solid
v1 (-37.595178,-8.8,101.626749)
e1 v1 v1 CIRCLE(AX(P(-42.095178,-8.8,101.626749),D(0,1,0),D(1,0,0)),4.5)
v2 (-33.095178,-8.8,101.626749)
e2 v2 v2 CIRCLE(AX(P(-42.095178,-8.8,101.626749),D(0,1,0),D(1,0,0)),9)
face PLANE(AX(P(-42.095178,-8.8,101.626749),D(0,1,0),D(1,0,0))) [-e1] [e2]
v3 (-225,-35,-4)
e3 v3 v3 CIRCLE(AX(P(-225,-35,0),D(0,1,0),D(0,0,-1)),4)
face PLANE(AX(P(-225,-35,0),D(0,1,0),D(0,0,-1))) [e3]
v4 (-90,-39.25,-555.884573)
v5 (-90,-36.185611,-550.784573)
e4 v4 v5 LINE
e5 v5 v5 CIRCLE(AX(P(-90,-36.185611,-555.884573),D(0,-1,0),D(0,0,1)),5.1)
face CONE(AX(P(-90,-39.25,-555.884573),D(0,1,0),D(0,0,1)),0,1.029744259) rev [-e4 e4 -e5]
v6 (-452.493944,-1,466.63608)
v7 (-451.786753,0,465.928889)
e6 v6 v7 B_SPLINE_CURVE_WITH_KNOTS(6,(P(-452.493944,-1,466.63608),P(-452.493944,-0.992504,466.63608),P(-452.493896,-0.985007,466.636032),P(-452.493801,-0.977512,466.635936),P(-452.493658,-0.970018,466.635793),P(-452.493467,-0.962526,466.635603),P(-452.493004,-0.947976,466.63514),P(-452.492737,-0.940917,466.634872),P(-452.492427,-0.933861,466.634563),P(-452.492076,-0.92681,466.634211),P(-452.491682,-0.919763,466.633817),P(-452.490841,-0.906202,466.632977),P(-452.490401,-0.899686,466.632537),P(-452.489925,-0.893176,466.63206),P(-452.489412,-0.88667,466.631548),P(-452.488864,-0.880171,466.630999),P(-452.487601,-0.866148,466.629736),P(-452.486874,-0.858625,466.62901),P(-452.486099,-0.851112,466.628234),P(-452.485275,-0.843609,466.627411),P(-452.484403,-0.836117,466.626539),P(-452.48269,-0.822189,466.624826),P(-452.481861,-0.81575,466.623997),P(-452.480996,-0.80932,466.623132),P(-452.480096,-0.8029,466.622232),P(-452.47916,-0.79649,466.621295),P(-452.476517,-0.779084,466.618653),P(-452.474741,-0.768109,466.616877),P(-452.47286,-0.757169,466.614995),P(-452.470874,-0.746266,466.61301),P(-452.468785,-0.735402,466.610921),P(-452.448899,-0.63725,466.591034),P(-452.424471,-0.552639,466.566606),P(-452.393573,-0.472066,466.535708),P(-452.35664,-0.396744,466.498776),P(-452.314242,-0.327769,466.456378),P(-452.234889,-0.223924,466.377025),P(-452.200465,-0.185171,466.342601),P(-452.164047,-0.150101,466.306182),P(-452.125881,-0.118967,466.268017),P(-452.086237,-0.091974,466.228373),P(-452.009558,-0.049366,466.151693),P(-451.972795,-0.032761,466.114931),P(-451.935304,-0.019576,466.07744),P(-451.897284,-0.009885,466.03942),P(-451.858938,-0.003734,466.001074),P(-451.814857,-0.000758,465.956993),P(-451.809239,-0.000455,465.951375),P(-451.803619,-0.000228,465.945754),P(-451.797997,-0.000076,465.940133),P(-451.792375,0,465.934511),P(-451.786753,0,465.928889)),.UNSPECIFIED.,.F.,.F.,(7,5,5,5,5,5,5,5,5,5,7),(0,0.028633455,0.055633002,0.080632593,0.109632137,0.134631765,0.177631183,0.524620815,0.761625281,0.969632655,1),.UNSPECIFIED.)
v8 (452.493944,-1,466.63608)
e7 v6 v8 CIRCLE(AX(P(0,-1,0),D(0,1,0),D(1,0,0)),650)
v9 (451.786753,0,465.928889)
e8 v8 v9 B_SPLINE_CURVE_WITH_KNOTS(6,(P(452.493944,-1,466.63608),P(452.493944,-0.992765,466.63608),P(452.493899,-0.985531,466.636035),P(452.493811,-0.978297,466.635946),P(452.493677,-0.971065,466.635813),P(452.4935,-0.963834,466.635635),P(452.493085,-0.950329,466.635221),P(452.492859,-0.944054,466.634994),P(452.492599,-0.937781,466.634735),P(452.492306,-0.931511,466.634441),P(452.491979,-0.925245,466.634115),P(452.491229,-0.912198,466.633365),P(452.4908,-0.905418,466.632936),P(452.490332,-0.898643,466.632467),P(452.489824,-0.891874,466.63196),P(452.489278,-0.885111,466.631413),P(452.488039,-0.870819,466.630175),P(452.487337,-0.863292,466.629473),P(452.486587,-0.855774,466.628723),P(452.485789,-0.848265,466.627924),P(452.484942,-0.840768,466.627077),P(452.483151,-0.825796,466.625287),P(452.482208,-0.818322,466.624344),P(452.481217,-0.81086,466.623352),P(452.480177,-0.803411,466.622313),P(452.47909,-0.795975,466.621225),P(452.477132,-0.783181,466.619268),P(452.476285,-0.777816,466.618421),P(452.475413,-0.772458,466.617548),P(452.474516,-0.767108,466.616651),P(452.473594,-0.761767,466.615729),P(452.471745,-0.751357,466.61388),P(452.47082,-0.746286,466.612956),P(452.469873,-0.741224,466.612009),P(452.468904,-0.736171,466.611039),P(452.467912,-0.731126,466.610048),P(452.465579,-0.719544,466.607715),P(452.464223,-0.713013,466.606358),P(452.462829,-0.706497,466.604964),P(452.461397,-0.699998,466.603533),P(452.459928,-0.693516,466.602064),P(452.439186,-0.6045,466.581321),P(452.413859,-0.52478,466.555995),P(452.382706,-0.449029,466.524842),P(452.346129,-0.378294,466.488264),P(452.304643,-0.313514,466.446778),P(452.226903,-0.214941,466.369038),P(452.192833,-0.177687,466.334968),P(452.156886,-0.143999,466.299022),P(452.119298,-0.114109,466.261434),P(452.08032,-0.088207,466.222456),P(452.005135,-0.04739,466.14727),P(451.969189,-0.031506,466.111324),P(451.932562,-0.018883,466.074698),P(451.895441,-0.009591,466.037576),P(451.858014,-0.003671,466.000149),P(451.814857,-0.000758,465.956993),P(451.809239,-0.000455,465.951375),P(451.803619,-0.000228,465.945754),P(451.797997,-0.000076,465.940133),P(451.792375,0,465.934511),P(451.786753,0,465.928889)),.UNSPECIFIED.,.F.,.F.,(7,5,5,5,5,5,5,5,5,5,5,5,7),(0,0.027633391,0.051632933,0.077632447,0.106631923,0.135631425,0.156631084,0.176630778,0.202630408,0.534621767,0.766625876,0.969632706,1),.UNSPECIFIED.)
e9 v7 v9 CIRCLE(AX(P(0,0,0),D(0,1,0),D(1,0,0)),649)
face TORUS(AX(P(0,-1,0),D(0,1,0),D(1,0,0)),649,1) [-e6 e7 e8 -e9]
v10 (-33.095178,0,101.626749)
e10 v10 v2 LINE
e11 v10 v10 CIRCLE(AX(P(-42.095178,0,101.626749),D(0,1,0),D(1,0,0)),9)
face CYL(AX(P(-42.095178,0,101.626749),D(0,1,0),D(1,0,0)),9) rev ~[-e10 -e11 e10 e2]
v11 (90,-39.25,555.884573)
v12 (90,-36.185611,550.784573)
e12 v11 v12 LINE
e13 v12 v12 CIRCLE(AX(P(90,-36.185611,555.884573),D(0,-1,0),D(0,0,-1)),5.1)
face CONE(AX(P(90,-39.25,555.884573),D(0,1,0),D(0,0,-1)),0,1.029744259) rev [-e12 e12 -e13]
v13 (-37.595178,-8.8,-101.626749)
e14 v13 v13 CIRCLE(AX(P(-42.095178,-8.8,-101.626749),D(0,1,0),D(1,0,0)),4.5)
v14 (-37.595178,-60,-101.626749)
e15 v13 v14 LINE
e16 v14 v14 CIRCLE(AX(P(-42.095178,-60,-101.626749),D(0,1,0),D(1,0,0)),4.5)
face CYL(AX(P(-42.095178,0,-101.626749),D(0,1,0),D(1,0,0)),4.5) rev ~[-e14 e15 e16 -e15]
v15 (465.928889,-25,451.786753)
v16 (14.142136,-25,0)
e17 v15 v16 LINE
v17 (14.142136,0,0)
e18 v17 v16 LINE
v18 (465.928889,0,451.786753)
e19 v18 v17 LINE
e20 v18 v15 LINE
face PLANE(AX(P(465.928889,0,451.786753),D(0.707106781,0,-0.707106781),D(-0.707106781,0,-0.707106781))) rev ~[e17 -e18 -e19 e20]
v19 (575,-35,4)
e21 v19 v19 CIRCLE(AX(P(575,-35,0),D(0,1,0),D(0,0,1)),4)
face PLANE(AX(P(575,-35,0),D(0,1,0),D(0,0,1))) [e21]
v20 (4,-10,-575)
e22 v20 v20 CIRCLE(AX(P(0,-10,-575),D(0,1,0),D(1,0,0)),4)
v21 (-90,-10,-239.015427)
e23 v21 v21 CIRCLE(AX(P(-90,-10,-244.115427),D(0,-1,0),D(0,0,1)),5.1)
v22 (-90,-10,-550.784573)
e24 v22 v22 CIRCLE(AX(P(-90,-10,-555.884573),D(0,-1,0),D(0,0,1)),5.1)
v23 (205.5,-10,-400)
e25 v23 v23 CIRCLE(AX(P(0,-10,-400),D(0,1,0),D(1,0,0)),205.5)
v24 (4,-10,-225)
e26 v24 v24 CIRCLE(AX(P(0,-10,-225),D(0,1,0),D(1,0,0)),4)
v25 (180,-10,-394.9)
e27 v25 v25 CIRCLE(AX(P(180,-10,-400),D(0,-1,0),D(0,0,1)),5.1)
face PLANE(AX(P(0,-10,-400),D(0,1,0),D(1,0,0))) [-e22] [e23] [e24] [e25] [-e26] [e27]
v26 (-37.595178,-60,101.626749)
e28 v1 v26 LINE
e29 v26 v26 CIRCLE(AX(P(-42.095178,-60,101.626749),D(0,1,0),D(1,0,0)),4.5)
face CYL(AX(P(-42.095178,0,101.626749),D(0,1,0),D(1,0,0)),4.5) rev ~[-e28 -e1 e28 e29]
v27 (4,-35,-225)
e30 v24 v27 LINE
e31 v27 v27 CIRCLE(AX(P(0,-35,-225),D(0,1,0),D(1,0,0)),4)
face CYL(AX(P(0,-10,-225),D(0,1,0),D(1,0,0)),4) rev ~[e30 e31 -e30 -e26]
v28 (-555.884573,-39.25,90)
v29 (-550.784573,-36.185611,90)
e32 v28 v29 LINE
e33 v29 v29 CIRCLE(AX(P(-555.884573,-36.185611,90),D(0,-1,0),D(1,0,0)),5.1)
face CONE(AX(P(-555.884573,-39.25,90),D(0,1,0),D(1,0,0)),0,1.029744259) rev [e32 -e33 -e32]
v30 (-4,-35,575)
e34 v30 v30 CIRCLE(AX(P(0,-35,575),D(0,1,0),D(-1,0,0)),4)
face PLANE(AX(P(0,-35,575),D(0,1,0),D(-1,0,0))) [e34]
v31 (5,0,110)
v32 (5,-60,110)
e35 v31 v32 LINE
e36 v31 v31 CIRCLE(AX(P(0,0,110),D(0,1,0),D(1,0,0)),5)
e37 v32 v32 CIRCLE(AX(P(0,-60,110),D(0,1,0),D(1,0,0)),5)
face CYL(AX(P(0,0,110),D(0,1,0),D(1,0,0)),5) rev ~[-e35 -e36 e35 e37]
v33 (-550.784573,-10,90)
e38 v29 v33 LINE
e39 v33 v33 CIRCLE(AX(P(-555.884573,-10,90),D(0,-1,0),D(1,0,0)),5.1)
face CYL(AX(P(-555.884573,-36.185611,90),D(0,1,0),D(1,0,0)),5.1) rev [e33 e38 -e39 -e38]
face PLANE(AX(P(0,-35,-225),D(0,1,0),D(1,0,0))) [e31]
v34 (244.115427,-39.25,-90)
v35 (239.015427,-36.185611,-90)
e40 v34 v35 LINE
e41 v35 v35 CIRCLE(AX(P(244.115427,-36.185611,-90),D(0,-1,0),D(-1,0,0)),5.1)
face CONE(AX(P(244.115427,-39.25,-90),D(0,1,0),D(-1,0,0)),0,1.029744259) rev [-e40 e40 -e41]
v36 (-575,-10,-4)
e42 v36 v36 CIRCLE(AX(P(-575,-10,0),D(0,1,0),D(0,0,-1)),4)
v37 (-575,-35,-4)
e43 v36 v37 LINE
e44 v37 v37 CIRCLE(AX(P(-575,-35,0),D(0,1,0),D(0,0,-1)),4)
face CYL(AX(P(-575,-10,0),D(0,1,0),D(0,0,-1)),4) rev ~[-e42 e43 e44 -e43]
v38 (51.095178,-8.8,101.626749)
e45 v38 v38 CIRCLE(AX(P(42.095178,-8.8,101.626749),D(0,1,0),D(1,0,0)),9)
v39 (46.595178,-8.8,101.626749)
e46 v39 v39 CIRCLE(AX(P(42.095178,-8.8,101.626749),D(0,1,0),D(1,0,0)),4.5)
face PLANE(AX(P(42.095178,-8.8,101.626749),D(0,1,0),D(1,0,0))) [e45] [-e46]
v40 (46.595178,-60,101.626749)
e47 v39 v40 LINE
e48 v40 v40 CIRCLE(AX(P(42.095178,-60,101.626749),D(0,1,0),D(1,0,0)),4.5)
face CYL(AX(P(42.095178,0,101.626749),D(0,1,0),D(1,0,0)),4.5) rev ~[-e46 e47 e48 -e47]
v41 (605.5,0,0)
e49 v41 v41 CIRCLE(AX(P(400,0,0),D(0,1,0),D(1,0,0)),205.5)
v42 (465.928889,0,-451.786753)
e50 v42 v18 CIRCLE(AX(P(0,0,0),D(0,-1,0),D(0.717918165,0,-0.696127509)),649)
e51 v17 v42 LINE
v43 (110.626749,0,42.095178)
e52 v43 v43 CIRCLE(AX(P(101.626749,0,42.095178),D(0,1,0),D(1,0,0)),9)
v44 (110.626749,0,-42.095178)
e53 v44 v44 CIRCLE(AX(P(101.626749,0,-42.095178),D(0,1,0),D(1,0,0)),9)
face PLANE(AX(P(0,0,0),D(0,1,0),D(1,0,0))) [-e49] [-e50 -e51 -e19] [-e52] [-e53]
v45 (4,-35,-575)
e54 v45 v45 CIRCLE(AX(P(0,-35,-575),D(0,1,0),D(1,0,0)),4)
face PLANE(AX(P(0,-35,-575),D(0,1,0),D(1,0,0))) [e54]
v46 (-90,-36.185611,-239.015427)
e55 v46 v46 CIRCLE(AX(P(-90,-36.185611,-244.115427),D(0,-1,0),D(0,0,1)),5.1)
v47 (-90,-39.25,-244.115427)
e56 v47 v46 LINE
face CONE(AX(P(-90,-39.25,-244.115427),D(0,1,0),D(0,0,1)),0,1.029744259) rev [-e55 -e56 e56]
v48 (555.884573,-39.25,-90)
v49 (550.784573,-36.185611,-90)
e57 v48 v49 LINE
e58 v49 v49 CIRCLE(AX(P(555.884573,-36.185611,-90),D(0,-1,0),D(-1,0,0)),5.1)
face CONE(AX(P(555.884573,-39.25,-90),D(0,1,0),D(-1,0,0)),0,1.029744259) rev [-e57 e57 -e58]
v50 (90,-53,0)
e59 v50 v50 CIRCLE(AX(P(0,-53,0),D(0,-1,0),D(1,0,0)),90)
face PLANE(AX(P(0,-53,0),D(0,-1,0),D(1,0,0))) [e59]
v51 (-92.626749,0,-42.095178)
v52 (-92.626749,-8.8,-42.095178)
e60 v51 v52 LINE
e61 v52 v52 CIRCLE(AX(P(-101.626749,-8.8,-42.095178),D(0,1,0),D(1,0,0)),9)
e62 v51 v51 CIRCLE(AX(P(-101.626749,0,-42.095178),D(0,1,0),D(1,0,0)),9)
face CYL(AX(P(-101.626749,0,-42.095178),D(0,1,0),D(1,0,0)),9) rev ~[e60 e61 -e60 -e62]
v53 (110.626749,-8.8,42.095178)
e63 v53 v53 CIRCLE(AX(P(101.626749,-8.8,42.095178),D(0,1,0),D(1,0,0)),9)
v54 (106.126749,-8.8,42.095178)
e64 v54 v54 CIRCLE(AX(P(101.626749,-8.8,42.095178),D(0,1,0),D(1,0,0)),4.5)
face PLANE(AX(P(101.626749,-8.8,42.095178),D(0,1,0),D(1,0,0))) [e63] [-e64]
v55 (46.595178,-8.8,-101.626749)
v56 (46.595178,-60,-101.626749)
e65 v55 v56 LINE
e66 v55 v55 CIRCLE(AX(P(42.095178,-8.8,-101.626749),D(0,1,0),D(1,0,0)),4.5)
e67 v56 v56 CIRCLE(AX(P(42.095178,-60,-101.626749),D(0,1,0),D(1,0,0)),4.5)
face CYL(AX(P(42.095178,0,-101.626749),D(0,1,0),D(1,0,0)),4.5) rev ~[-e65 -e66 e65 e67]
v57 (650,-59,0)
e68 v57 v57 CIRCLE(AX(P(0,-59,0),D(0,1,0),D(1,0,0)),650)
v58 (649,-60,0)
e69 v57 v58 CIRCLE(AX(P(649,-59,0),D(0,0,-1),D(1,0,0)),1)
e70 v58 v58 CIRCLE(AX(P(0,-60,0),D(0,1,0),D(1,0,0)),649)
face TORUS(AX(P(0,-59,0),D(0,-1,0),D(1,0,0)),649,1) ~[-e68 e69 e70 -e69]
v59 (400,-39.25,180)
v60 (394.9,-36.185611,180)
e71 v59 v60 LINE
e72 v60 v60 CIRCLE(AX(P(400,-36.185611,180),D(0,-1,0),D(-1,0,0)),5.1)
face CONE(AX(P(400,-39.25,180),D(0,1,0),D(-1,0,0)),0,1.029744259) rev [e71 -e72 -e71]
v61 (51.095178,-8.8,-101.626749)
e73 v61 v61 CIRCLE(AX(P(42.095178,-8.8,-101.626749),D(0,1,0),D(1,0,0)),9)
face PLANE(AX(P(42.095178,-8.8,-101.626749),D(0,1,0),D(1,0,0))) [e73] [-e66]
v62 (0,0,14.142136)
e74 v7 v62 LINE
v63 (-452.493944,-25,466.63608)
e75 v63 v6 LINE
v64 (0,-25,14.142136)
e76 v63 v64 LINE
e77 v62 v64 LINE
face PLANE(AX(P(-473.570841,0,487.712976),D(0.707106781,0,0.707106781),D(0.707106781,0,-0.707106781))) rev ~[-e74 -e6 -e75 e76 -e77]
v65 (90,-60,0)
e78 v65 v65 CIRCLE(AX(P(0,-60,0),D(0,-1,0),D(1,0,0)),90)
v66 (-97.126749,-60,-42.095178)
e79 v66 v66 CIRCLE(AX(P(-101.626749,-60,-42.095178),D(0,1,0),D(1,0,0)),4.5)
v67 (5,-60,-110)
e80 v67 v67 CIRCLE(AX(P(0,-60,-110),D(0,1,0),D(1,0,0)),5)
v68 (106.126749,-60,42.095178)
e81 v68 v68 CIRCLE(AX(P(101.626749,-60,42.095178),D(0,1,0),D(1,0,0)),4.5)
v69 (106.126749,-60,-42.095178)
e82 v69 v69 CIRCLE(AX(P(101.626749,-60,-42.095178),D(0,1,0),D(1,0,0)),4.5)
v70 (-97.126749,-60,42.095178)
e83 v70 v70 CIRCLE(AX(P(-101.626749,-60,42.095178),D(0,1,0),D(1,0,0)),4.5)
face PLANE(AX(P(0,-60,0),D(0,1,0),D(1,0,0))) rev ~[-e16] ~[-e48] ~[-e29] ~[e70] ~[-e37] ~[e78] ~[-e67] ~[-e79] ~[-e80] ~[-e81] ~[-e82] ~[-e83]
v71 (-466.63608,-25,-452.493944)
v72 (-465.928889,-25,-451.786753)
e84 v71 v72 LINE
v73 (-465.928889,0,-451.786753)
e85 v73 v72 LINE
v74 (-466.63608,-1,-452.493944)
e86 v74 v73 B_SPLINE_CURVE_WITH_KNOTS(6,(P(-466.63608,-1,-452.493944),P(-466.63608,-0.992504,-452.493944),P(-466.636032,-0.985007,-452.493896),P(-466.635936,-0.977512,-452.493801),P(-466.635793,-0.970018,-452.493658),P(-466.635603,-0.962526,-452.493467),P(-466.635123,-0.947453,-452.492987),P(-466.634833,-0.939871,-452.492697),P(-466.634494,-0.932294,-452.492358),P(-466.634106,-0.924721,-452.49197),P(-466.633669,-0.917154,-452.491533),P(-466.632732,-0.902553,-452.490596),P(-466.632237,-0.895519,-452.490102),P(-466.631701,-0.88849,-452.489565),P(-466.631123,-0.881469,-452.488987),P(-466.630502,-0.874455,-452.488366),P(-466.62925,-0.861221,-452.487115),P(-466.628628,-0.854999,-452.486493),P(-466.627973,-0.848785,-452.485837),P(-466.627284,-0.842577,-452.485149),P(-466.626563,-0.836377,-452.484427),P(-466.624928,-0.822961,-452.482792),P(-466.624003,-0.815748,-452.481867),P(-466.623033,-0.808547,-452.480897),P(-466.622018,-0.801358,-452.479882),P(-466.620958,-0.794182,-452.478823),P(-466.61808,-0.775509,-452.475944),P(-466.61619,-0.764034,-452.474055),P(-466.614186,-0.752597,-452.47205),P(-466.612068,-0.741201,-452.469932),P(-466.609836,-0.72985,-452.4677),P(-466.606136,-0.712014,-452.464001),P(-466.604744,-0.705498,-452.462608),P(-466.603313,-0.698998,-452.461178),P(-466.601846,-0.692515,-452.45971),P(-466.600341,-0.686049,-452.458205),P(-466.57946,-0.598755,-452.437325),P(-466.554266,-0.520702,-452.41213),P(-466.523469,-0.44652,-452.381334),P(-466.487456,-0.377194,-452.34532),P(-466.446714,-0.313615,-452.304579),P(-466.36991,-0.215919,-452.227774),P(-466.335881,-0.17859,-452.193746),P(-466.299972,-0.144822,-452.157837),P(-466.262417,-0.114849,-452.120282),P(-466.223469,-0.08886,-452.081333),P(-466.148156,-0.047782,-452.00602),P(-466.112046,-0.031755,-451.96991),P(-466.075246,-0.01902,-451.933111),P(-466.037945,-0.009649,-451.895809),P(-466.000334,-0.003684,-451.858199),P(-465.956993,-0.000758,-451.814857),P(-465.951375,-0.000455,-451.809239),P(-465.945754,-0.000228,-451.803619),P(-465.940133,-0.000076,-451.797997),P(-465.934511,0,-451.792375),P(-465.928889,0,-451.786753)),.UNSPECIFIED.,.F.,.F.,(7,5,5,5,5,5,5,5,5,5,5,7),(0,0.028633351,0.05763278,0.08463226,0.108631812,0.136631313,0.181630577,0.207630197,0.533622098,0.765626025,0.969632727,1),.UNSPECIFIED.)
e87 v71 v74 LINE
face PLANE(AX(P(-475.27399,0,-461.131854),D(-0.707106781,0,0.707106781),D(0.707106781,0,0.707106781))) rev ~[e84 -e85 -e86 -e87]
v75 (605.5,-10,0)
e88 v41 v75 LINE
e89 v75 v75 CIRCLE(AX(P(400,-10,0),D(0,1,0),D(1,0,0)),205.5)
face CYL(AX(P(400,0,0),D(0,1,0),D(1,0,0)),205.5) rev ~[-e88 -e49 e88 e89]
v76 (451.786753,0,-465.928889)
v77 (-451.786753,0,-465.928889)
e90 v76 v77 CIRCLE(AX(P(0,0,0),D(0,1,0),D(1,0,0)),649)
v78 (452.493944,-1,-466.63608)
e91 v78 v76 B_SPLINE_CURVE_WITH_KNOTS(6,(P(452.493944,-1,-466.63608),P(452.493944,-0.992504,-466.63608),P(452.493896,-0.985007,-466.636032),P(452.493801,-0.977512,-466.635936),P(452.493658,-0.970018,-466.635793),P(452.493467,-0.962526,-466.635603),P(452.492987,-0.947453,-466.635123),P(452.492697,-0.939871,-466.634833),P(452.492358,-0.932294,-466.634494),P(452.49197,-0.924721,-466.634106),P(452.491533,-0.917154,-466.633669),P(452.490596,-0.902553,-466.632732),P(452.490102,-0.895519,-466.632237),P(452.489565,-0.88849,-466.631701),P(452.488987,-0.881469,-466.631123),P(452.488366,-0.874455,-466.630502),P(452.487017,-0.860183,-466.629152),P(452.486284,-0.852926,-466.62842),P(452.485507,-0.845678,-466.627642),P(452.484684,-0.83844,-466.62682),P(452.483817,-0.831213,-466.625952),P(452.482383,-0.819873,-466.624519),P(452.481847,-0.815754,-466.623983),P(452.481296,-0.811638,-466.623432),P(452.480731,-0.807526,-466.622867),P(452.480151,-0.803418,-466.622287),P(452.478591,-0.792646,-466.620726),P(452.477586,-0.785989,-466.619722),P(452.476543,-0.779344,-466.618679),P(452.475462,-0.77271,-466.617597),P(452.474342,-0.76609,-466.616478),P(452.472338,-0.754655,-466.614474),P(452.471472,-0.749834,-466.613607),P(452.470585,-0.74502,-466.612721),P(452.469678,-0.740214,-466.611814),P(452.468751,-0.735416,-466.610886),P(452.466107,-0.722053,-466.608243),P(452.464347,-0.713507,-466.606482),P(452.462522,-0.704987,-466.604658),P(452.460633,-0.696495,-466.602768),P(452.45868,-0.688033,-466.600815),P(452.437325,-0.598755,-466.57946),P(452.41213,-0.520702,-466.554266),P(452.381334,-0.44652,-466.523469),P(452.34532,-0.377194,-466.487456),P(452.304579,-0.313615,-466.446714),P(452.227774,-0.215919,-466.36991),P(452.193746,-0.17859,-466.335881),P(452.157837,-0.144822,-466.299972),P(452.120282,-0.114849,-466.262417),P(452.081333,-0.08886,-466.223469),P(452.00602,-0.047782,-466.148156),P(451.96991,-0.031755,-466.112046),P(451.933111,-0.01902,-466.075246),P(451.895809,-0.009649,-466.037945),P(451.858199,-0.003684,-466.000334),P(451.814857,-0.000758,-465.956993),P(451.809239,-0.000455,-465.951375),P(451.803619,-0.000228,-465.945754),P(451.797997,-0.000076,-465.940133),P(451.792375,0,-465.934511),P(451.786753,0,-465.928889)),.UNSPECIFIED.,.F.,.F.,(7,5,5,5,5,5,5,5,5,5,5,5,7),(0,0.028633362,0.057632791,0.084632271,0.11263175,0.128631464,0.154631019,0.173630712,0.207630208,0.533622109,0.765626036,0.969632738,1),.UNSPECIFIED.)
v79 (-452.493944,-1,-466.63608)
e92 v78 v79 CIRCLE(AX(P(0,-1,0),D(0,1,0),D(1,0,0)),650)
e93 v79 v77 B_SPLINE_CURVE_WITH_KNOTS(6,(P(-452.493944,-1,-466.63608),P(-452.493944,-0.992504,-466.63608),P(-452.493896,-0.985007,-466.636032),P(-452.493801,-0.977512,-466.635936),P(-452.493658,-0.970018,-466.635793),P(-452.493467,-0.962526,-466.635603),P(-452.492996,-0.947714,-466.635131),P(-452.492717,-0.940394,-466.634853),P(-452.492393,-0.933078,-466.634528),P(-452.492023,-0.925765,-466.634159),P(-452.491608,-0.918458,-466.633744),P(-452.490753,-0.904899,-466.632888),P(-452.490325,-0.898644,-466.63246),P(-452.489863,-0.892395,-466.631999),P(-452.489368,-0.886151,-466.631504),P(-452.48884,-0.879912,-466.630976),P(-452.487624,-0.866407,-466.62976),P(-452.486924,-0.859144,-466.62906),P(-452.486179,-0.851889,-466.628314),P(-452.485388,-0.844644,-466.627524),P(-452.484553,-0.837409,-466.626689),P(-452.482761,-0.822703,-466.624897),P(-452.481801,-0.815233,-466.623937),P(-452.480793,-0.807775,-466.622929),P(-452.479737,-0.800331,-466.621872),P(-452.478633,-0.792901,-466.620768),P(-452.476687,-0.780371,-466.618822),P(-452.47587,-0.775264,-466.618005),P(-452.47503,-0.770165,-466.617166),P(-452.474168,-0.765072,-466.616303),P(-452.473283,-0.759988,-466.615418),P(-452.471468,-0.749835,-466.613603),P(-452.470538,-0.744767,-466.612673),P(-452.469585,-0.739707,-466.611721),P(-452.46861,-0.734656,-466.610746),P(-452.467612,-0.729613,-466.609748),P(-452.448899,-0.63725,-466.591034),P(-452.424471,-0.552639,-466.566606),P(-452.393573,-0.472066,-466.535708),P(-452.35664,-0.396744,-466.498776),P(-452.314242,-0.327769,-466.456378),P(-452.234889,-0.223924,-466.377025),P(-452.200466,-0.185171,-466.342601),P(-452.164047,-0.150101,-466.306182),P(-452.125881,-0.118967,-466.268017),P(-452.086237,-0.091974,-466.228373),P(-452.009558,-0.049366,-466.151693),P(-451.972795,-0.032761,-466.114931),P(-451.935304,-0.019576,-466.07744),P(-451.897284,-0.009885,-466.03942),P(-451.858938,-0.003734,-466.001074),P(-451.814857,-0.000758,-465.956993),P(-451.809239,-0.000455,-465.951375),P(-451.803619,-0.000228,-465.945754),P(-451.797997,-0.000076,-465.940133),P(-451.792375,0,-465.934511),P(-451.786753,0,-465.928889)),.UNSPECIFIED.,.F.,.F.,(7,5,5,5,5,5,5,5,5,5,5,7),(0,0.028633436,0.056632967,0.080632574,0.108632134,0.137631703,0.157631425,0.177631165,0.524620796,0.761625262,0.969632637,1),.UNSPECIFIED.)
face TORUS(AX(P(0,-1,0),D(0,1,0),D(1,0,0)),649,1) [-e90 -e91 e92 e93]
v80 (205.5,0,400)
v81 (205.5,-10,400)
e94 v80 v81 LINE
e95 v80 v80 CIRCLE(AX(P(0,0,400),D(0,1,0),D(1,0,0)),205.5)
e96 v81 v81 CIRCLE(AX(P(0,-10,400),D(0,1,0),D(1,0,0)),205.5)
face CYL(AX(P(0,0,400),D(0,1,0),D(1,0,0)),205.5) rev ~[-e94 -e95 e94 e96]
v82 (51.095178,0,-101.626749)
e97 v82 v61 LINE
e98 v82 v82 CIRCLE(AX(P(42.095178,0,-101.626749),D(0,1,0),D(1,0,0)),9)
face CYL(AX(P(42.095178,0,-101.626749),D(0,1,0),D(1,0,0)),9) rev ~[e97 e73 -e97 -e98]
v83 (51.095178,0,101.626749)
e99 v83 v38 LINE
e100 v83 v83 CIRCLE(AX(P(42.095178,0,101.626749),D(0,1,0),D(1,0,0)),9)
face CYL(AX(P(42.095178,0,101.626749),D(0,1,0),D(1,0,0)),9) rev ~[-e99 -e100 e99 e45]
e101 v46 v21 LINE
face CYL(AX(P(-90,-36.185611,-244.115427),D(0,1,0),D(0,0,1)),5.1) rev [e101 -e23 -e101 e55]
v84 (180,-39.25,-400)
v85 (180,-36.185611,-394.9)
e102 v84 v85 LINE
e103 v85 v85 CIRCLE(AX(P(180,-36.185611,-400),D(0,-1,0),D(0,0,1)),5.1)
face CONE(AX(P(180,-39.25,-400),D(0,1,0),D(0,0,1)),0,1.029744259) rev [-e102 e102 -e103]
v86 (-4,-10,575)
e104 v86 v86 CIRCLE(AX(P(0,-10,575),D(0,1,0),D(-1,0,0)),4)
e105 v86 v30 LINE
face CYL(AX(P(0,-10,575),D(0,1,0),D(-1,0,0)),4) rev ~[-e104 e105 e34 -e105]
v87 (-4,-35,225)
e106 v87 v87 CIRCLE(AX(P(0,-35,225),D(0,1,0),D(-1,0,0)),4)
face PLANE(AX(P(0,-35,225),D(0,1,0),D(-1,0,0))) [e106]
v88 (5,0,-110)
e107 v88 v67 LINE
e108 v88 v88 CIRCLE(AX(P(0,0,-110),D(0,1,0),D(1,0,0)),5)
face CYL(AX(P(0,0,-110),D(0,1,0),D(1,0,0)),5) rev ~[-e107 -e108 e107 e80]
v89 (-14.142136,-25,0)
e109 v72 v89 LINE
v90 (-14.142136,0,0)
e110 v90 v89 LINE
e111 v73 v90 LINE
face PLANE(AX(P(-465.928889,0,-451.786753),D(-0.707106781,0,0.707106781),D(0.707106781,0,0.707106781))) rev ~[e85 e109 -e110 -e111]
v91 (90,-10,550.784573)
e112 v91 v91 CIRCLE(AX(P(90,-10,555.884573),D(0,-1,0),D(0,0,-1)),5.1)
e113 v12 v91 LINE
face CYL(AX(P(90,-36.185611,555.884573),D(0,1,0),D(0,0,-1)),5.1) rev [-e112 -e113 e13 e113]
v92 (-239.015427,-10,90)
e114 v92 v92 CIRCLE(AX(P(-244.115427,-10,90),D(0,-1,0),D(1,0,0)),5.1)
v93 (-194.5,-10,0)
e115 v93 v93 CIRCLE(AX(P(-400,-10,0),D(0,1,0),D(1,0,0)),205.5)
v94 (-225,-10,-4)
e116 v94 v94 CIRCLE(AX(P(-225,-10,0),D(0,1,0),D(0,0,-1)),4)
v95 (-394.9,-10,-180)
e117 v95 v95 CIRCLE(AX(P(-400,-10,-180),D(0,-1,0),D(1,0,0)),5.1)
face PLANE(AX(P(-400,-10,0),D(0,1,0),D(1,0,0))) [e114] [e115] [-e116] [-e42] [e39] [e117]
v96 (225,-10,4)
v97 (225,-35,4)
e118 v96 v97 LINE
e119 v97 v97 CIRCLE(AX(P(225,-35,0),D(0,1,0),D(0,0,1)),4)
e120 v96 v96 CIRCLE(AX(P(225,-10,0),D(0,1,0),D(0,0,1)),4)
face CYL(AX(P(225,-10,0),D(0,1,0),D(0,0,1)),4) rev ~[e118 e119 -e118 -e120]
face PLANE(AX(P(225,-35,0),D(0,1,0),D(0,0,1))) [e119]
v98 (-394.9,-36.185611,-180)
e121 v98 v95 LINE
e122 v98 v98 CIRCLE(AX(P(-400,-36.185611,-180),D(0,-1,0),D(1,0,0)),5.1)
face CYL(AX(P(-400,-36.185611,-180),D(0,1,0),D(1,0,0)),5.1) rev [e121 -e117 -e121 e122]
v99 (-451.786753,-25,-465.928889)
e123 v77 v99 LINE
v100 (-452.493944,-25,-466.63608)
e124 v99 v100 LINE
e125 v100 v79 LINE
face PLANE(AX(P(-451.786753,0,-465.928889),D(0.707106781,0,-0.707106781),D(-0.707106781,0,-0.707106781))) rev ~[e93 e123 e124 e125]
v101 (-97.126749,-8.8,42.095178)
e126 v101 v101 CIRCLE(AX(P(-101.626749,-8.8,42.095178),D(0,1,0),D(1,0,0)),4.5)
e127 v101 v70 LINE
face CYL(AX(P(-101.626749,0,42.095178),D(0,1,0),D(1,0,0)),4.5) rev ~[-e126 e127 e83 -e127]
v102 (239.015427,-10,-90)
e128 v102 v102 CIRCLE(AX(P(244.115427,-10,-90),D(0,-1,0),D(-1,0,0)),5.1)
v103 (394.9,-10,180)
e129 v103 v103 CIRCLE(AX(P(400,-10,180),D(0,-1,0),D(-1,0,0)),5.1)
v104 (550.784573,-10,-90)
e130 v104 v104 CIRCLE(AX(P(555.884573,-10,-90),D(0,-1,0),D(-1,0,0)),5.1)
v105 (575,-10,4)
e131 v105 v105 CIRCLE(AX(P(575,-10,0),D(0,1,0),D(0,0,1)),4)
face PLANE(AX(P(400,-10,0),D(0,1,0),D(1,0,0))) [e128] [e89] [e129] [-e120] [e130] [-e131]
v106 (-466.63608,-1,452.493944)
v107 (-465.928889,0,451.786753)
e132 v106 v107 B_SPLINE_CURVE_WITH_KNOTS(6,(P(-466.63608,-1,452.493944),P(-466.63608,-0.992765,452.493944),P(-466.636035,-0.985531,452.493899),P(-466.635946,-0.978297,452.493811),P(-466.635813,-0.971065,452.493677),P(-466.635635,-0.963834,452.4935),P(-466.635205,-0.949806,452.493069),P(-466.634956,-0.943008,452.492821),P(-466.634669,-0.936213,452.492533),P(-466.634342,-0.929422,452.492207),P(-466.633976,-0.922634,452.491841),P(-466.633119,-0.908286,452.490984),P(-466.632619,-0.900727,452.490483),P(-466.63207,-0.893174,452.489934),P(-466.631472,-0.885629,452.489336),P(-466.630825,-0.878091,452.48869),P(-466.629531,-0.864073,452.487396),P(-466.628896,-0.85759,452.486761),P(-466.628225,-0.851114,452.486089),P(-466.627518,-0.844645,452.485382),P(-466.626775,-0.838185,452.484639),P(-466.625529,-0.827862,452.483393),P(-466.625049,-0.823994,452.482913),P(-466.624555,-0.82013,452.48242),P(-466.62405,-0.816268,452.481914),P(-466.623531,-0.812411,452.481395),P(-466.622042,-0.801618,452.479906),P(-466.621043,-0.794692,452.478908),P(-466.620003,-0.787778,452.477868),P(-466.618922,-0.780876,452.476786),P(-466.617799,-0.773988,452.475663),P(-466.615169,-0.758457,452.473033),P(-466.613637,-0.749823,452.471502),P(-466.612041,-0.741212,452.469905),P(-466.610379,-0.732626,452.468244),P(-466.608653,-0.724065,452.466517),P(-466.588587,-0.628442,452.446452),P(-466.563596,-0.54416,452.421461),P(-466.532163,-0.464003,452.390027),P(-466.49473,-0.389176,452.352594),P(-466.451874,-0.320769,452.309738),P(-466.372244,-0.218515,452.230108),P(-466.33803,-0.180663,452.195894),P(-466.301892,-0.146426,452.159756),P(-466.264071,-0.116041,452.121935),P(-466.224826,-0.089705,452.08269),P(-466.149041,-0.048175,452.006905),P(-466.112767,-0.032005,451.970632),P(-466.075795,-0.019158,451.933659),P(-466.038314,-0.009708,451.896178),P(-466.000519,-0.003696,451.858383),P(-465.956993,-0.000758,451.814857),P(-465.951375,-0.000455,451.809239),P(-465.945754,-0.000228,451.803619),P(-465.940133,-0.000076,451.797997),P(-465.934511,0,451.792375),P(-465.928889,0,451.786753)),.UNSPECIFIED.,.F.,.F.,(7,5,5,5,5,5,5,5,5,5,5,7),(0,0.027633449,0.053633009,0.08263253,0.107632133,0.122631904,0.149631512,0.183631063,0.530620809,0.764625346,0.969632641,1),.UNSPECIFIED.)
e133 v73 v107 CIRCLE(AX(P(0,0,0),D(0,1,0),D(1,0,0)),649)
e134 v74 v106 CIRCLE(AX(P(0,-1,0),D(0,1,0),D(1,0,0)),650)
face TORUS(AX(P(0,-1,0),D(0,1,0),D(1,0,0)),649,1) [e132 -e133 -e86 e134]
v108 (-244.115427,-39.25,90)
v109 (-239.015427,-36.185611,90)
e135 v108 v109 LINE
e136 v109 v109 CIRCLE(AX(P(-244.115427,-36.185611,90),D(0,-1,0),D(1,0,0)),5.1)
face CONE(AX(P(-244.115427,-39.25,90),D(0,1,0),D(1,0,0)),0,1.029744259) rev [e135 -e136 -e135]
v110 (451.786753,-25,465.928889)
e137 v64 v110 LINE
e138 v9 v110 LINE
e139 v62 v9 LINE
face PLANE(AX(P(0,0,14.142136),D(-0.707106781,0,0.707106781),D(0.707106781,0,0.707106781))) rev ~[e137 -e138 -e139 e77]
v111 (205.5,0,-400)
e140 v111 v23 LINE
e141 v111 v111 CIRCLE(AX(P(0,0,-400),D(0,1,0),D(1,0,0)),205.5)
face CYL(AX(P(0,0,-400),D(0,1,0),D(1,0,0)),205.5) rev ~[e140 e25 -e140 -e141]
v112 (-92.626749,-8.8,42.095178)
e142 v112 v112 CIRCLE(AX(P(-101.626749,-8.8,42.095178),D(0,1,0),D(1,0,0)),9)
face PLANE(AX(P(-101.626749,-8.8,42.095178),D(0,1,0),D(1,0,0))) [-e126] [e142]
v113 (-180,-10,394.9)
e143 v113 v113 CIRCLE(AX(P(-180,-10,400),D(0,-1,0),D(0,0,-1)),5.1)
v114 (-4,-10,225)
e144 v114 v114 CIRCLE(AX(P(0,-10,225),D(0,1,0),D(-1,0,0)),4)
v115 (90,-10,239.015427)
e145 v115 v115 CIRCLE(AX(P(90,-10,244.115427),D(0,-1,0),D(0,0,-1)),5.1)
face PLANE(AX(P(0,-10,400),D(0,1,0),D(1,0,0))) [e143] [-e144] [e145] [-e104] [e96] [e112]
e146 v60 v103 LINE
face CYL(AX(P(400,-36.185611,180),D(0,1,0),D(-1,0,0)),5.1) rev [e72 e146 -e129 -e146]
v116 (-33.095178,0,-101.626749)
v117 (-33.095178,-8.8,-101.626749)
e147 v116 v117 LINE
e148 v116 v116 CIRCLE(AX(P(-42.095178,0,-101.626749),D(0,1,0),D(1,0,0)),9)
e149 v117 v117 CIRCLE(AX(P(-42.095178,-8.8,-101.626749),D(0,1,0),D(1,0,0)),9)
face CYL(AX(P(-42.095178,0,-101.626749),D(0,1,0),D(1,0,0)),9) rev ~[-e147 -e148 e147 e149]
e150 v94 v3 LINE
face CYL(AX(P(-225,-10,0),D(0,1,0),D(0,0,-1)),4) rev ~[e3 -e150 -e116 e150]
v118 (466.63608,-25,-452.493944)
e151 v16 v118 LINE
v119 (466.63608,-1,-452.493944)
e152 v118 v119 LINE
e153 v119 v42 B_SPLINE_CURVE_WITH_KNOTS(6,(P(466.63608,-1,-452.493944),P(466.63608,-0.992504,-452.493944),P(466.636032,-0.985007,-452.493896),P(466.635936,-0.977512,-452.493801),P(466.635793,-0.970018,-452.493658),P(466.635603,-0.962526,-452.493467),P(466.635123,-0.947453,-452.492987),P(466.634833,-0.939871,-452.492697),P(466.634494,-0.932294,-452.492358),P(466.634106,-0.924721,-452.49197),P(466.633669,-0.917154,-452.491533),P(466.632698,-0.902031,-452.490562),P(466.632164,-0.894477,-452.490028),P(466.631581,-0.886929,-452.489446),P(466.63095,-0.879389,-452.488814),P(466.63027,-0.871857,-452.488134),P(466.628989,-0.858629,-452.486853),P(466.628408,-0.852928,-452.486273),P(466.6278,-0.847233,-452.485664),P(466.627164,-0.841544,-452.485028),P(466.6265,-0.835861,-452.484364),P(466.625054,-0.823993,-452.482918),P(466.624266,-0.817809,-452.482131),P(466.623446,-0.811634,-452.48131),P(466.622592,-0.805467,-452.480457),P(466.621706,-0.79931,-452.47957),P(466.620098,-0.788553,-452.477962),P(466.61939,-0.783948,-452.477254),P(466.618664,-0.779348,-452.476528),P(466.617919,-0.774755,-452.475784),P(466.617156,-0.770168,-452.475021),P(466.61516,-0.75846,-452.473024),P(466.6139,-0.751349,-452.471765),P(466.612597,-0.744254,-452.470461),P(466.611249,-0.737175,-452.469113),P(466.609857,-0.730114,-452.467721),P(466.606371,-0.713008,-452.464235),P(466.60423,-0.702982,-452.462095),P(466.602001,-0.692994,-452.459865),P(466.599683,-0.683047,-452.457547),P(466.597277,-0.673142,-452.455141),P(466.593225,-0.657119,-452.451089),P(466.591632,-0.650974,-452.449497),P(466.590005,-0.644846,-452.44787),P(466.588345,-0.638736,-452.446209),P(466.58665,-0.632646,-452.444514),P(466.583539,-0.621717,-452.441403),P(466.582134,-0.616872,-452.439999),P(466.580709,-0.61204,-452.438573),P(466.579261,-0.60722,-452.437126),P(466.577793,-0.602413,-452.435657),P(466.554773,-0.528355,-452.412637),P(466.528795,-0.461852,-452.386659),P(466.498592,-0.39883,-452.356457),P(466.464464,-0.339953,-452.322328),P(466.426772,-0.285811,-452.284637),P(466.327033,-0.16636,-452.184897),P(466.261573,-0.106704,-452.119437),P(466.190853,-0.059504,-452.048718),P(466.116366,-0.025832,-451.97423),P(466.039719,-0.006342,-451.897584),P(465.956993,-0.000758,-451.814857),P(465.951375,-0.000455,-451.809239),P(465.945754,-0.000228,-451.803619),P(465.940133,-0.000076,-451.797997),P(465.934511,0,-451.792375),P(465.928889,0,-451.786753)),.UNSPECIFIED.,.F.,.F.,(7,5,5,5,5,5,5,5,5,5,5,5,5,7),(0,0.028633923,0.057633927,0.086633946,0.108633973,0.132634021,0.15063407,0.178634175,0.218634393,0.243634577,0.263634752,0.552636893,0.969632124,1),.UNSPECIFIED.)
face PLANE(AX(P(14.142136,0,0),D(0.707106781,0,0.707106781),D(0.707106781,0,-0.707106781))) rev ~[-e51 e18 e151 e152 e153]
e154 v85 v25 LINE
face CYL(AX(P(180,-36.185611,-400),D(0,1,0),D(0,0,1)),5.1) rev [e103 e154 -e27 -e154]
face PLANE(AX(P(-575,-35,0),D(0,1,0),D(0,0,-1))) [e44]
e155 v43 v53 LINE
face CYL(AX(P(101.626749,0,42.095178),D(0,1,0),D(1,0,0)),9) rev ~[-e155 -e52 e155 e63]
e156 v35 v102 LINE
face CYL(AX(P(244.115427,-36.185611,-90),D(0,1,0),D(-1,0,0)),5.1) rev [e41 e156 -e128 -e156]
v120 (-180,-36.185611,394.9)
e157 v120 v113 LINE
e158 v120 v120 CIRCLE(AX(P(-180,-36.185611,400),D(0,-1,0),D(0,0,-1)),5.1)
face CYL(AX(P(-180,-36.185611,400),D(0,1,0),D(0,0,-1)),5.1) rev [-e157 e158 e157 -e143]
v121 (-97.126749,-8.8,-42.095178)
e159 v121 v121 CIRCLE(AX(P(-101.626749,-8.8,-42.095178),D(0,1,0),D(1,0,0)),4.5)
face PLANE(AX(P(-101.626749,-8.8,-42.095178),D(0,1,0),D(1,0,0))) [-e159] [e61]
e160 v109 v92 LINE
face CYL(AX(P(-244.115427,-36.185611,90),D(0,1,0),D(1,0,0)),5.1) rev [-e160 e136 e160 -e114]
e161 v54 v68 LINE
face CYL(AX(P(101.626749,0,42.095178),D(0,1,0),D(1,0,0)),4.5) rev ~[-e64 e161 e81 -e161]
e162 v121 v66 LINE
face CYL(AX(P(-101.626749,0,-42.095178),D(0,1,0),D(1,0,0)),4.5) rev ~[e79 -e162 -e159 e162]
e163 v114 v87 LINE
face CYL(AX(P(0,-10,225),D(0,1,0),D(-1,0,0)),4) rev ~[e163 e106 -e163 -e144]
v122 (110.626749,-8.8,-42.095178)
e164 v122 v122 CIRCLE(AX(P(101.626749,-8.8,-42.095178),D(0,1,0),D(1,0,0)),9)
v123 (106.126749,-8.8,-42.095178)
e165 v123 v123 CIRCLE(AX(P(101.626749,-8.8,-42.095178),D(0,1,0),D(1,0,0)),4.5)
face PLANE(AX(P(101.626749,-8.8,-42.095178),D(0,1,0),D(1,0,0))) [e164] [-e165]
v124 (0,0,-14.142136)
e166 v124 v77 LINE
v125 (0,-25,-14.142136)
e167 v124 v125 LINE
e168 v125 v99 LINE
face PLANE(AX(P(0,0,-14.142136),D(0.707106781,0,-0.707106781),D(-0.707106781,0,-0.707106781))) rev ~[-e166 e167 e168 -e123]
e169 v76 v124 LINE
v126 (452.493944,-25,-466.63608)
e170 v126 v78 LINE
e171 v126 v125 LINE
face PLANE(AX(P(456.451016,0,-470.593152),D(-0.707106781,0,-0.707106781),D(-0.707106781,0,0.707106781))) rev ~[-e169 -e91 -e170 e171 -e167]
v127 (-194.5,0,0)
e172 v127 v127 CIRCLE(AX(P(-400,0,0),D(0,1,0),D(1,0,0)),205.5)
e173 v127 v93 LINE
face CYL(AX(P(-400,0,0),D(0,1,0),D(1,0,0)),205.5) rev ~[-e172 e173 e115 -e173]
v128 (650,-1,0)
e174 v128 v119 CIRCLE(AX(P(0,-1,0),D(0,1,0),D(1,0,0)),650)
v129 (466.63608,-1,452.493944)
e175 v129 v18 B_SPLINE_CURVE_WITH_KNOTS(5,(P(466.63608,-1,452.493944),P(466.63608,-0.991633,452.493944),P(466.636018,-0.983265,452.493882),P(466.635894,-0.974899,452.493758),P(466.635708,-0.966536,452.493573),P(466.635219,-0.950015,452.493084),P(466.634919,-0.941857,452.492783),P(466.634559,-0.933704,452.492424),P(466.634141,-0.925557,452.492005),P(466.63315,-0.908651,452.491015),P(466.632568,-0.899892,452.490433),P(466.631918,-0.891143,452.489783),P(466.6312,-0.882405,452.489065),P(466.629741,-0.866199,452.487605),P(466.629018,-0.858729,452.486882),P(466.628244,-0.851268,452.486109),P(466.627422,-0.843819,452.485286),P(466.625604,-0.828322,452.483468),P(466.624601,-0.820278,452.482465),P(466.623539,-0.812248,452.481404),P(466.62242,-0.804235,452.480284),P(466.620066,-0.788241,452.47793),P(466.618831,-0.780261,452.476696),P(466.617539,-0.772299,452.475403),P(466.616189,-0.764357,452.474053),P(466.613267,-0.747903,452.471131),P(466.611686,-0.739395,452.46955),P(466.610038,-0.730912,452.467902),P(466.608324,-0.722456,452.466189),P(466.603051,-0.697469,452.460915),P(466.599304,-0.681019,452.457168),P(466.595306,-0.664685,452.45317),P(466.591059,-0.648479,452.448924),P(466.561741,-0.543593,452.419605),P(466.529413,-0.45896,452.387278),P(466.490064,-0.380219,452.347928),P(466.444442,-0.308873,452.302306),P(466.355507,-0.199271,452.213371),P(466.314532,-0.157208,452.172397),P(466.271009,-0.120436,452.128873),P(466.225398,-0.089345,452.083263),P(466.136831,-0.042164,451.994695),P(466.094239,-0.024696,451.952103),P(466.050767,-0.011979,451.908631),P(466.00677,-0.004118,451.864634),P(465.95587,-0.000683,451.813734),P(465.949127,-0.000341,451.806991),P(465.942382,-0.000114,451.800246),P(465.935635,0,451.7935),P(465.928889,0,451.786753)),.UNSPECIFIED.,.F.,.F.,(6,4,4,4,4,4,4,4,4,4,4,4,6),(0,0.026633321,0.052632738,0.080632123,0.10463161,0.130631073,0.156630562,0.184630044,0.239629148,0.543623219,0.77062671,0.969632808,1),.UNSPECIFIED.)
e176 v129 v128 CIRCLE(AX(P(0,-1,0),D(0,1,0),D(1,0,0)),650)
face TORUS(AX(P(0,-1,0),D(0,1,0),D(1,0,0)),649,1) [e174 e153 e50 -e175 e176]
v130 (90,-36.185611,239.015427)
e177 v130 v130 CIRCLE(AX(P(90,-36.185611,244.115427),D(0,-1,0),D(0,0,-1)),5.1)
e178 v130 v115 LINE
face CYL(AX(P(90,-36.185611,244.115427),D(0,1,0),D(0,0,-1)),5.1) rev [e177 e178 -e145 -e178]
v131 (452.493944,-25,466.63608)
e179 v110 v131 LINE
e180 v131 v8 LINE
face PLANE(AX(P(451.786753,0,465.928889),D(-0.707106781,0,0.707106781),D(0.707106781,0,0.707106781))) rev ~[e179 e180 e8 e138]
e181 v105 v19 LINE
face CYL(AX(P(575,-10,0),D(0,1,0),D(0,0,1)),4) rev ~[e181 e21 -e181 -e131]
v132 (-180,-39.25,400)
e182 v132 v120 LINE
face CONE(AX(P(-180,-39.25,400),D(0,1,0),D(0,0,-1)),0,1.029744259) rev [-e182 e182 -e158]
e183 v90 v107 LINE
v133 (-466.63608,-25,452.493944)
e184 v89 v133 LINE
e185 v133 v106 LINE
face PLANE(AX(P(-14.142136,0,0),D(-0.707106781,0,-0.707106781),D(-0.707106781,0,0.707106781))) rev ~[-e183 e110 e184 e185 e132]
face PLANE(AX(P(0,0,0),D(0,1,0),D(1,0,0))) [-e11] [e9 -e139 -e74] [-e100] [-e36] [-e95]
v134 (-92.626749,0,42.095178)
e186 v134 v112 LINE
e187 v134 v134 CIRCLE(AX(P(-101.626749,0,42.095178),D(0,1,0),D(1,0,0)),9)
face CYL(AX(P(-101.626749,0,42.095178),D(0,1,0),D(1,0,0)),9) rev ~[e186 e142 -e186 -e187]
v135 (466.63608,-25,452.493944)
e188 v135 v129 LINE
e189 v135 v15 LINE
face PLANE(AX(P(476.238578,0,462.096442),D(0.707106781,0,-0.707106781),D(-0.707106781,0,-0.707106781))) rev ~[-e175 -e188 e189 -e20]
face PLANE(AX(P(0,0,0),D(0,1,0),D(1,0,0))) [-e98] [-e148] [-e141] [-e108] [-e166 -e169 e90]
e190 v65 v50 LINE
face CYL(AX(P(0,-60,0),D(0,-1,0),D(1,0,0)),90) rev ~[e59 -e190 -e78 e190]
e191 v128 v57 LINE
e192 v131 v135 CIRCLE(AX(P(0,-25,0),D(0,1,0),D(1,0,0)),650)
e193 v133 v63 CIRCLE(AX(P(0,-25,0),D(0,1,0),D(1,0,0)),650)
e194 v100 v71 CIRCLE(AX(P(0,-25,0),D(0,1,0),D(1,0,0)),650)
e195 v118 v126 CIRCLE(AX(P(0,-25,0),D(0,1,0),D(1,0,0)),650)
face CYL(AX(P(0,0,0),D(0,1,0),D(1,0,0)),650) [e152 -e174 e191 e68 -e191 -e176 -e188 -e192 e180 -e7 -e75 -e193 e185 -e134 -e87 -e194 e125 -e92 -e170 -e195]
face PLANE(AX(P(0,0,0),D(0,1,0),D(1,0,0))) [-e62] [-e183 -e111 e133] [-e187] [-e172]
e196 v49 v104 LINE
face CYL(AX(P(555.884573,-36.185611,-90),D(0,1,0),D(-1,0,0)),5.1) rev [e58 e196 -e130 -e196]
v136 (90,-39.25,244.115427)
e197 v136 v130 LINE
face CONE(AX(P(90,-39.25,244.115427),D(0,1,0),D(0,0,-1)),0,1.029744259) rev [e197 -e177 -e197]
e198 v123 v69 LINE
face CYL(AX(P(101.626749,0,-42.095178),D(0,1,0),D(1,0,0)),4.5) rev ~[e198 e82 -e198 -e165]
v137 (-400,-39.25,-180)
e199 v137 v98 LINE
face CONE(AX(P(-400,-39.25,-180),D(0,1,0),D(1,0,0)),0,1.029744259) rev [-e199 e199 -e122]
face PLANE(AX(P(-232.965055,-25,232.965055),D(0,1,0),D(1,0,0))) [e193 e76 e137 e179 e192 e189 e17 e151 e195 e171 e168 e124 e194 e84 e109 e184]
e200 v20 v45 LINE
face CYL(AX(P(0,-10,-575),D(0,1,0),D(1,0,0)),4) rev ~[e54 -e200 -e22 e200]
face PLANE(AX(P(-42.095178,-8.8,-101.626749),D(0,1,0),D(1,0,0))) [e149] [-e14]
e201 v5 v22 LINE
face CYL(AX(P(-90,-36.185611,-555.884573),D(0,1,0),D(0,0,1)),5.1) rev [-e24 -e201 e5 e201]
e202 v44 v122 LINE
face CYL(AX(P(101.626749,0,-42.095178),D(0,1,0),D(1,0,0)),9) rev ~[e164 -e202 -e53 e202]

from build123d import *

# Parameters (mm, degrees)
SKETCH1_R                   = 650
BOSS_EXTRUDE1_DEPTH         = 60
SKETCH2_R                   = 205.5
CUT_EXTRUDE1_DEPTH          = 10
SKETCH3_R                   = 4
CUT_EXTRUDE2_DEPTH          = 25
M12_TAPPED_HOLE1_AT_2_COUNT = 2
M12_TAPPED_HOLE1_AT_2_PITCH = 311.769145362
M12_TAPPED_HOLE1_AT_3_COUNT = 2
M12_TAPPED_HOLE1_AT_3_PITCH = 311.769145362
CIRPATTERN1_COUNT           = 4
FILLET1_R                   = 1
SKETCH10_R                  = 5
CUT_EXTRUDE4_DEPTH          = 61
SKETCH11_R                  = 4.5
CUT_EXTRUDE5_DEPTH          = 61
SKETCH12_R                  = 9
CUT_EXTRUDE6_DEPTH          = 8.8
SKETCH14_R                  = 90
CUT_EXTRUDE8_DEPTH          = 7
CUT_EXTRUDE9_DEPTH          = 25


with BuildPart() as part:
    # Sketch1 → Boss-Extrude1 (new body)
    with BuildSketch(Plane(origin=(0, 0, 0), x_dir=(1, 0, 0), z_dir=(0, 1, 0))):
        Circle(SKETCH1_R)
    extrude(amount=-BOSS_EXTRUDE1_DEPTH)

    # Sketch2 → Cut-Extrude1 (cut)
    with BuildSketch(Plane(origin=(0, 0, 0), x_dir=(1, 0, 0), z_dir=(0, 1, 0))):
        with Locations((0, 400)):
            Circle(SKETCH2_R)
        with Locations((400, 0)):
            Circle(SKETCH2_R)
        with Locations((0, -400)):
            Circle(SKETCH2_R)
        with Locations((-400, 0)):
            Circle(SKETCH2_R)
    extrude(amount=-CUT_EXTRUDE1_DEPTH, mode=Mode.SUBTRACT)

    # Sketch3 → Cut-Extrude2 (cut)
    with BuildSketch(Plane(origin=(0, -10, 0), x_dir=(1, 0, 0), z_dir=(0, 1, 0))):
        with Locations((0, 575)):
            Circle(SKETCH3_R)
        with Locations((0, 225)):
            Circle(SKETCH3_R)
    cut_extrude2 = extrude(amount=-CUT_EXTRUDE2_DEPTH, mode=Mode.SUBTRACT)

    # Sketch9 → M12 Tapped Hole1 (revolve, cut)
    with BuildSketch(Plane(origin=(180, -10, -400), x_dir=(0, 0, 1), z_dir=(1, 0, 0))):
        Polygon((0, 0), (0, 29.25), (5.1, 26.185610843), (5.1, 0), align=None)
    m12_tapped_hole1 = revolve(axis=Axis((180, -3.65, -400), (0, -1, 0)), mode=Mode.SUBTRACT)

    # M12 Tapped Hole1 at 2: M12 Tapped Hole1 ×2
    with Locations(*[Vector(-0.866025404, 0, -0.5) * (i * M12_TAPPED_HOLE1_AT_2_PITCH) for i in range(1, M12_TAPPED_HOLE1_AT_2_COUNT)]):
        add(m12_tapped_hole1, mode=Mode.SUBTRACT)

    # M12 Tapped Hole1 at 3: M12 Tapped Hole1 ×2
    with Locations(*[Vector(-0.866025404, 0, 0.5) * (i * M12_TAPPED_HOLE1_AT_3_PITCH) for i in range(1, M12_TAPPED_HOLE1_AT_3_COUNT)]):
        add(m12_tapped_hole1, mode=Mode.SUBTRACT)

    # CirPattern1: M12 Tapped Hole1, Cut-Extrude2 ×4 about axis
    cirpattern1_axis = Axis((0, 0, 0), (0, 1, 0))
    for i in range(1, CIRPATTERN1_COUNT):
        add(m12_tapped_hole1.rotate(cirpattern1_axis, i * 360 / CIRPATTERN1_COUNT), mode=Mode.SUBTRACT)
        add(cut_extrude2.rotate(cirpattern1_axis, i * 360 / CIRPATTERN1_COUNT), mode=Mode.SUBTRACT)

    # CirPattern1 copy 1 sketch → CirPattern1 copy 1 (revolve, cut)
    with BuildSketch(Plane(origin=(-555.884572681, -10, 90), x_dir=(1, 0, 0), z_dir=(0, 0, -1))):
        Polygon((0, 0), (0, 29.25), (5.1, 26.185610843), (5.1, 0), align=None)
    revolve(axis=Axis((-555.884572681, -3.65, 90), (0, -1, 0)), mode=Mode.SUBTRACT)

    # CirPattern1 copy 2 sketch → CirPattern1 copy 2 (revolve, cut)
    with BuildSketch(Plane(origin=(90, -10, 555.884572681), x_dir=(0, 0, -1), z_dir=(-1, 0, 0))):
        Polygon((0, 0), (0, 29.25), (5.1, 26.185610843), (5.1, 0), align=None)
    revolve(axis=Axis((90, -3.65, 555.884572681), (0, -1, 0)), mode=Mode.SUBTRACT)

    # CirPattern1 copy 3 sketch → CirPattern1 copy 3 (revolve, cut)
    with BuildSketch(Plane(origin=(555.884572681, -10, -90), x_dir=(-1, 0, 0), z_dir=(0, 0, 1))):
        Polygon((0, 0), (0, 29.25), (5.1, 26.185610843), (5.1, 0), align=None)
    revolve(axis=Axis((555.884572681, -3.65, -90), (0, -1, 0)), mode=Mode.SUBTRACT)

    # CirPattern1 copy 4 sketch → CirPattern1 copy 4 (revolve, cut)
    with BuildSketch(Plane(origin=(-244.115427319, -10, 90), x_dir=(1, 0, 0), z_dir=(0, 0, -1))):
        Polygon((0, 0), (0, 29.25), (5.1, 26.185610843), (5.1, 0), align=None)
    revolve(axis=Axis((-244.115427319, -3.65, 90), (0, -1, 0)), mode=Mode.SUBTRACT)

    # CirPattern1 copy 5 sketch → CirPattern1 copy 5 (revolve, cut)
    with BuildSketch(Plane(origin=(90, -10, 244.115427319), x_dir=(0, 0, -1), z_dir=(-1, 0, 0))):
        Polygon((0, 0), (0, 29.25), (5.1, 26.185610843), (5.1, 0), align=None)
    revolve(axis=Axis((90, -3.65, 244.115427319), (0, -1, 0)), mode=Mode.SUBTRACT)

    # CirPattern1 copy 6 sketch → CirPattern1 copy 6 (revolve, cut)
    with BuildSketch(Plane(origin=(244.115427319, -10, -90), x_dir=(-1, 0, 0), z_dir=(0, 0, 1))):
        Polygon((0, 0), (0, 29.25), (5.1, 26.185610843), (5.1, 0), align=None)
    revolve(axis=Axis((244.115427319, -3.65, -90), (0, -1, 0)), mode=Mode.SUBTRACT)

    # Fillet1
    fillet1_edges = [part.edges().sort_by_distance(p)[0] for p in [
        (-650, 0, 0),
        (-650, -60, 0),
    ]]
    fillet(fillet1_edges, radius=FILLET1_R)

    # Sketch10 → Cut-Extrude4 (cut, through all)
    with BuildSketch(Plane(origin=(0, 0, 0), x_dir=(1, 0, 0), z_dir=(0, 1, 0))):
        with Locations((0, 110)):
            Circle(SKETCH10_R)
        with Locations((0, -110)):
            Circle(SKETCH10_R)
    extrude(amount=-CUT_EXTRUDE4_DEPTH, mode=Mode.SUBTRACT)

    # Sketch11 → Cut-Extrude5 (cut, through all)
    with BuildSketch(Plane(origin=(0, 0, 0), x_dir=(1, 0, 0), z_dir=(0, 1, 0))):
        with Locations((101.626748576, 42.09517756)):
            Circle(SKETCH11_R)
        with Locations((101.626748576, -42.09517756)):
            Circle(SKETCH11_R)
        with Locations((42.09517756, 101.626748576)):
            Circle(SKETCH11_R)
        with Locations((42.09517756, -101.626748576)):
            Circle(SKETCH11_R)
        with Locations((-42.09517756, 101.626748576)):
            Circle(SKETCH11_R)
        with Locations((-42.09517756, -101.626748576)):
            Circle(SKETCH11_R)
        with Locations((-101.626748576, 42.09517756)):
            Circle(SKETCH11_R)
        with Locations((-101.626748576, -42.09517756)):
            Circle(SKETCH11_R)
    extrude(amount=-CUT_EXTRUDE5_DEPTH, mode=Mode.SUBTRACT)

    # Sketch12 → Cut-Extrude6 (cut)
    with BuildSketch(Plane(origin=(0, 0, 0), x_dir=(1, 0, 0), z_dir=(0, 1, 0))):
        with Locations((-42.09517756, 101.626748576)):
            Circle(SKETCH12_R)
        with Locations((42.09517756, 101.626748576)):
            Circle(SKETCH12_R)
        with Locations((101.626748576, 42.09517756)):
            Circle(SKETCH12_R)
        with Locations((101.626748576, -42.09517756)):
            Circle(SKETCH12_R)
        with Locations((42.09517756, -101.626748576)):
            Circle(SKETCH12_R)
        with Locations((-42.09517756, -101.626748576)):
            Circle(SKETCH12_R)
        with Locations((-101.626748576, -42.09517756)):
            Circle(SKETCH12_R)
        with Locations((-101.626748576, 42.09517756)):
            Circle(SKETCH12_R)
    extrude(amount=-CUT_EXTRUDE6_DEPTH, mode=Mode.SUBTRACT)

    # Sketch14 → Cut-Extrude8 (cut)
    with BuildSketch(Plane.XZ.offset(60)):
        Circle(SKETCH14_R)
    extrude(amount=-CUT_EXTRUDE8_DEPTH, mode=Mode.SUBTRACT)

    # Sketch15 → Cut-Extrude9 (cut)
    with BuildSketch(Plane(origin=(0, 0, 0), x_dir=(1, 0, 0), z_dir=(0, 1, 0))):
        with BuildLine():
            Line((0, -14.142135624), (-7.071067812, -7.071067812))
            Line((-7.071067812, -7.071067812), (-14.142135624, 0))
            Line((-14.142135624, 0), (-465.928888929, -451.786753305))
            ThreePointArc((-465.928888929, -451.786753305), (-458.91230099, -458.91230099), (-451.786753305, -465.928888929))
            Line((-451.786753305, -465.928888929), (0, -14.142135624))
        make_face()
        with BuildLine():
            Line((465.928888929, -451.786753305), (14.142135624, 0))
            Line((14.142135624, 0), (7.071067812, -7.071067812))
            Line((7.071067812, -7.071067812), (0, -14.142135624))
            Line((0, -14.142135624), (451.786753305, -465.928888929))
            ThreePointArc((451.786753305, -465.928888929), (458.91230099, -458.91230099), (465.928888929, -451.786753305))
        make_face()
        with BuildLine():
            Line((0, 14.142135624), (7.071067812, 7.071067812))
            Line((7.071067812, 7.071067812), (14.142135624, 0))
            Line((14.142135624, 0), (465.928888929, 451.786753305))
            ThreePointArc((465.928888929, 451.786753305), (458.91230099, 458.91230099), (451.786753305, 465.928888929))
            Line((451.786753305, 465.928888929), (0, 14.142135624))
        make_face()
        with BuildLine():
            Line((-7.071067812, 7.071067812), (0, 14.142135624))
            Line((0, 14.142135624), (-451.786753305, 465.928888929))
            ThreePointArc((-451.786753305, 465.928888929), (-458.91230099, 458.91230099), (-465.928888929, 451.786753305))
            Line((-465.928888929, 451.786753305), (-14.142135624, 0))
            Line((-14.142135624, 0), (-7.071067812, 7.071067812))
        make_face()
        Polygon((-7.071067812, -7.071067812), (0, 0), (-7.071067812, 7.071067812), (-14.142135624, 0), align=None)
        Polygon((7.071067812, -7.071067812), (0, 0), (-7.071067812, -7.071067812), (0, -14.142135624), align=None)
        Polygon((14.142135624, 0), (7.071067812, 7.071067812), (0, 0), (7.071067812, -7.071067812), align=None)
        Polygon((0, 0), (7.071067812, 7.071067812), (0, 14.142135624), (-7.071067812, 7.071067812), align=None)
        with BuildLine():
            ThreePointArc((-451.786753305, -465.928888929), (-458.91230099, -458.91230099), (-465.928888929, -451.786753305))
            Line((-465.928888929, -451.786753305), (-487.712976159, -473.570840535))
            Line((-487.712976159, -473.570840535), (-473.570840535, -487.712976159))
            Line((-473.570840535, -487.712976159), (-451.786753305, -465.928888929))
        make_face()
        with BuildLine():
            ThreePointArc((-465.928888929, 451.786753305), (-458.91230099, 458.91230099), (-451.786753305, 465.928888929))
            Line((-451.786753305, 465.928888929), (-461.131853897, 475.27398952))
            Line((-461.131853897, 475.27398952), (-475.27398952, 461.131853897))
            Line((-475.27398952, 461.131853897), (-465.928888929, 451.786753305))
        make_face()
        with BuildLine():
            Line((456.45101614, 470.593151764), (451.786753305, 465.928888929))
            ThreePointArc((451.786753305, 465.928888929), (458.91230099, 458.91230099), (465.928888929, 451.786753305))
            Line((465.928888929, 451.786753305), (470.593151764, 456.45101614))
            Line((470.593151764, 456.45101614), (456.45101614, 470.593151764))
        make_face()
        with BuildLine():
            Line((476.238577972, -462.096442349), (465.928888929, -451.786753305))
            ThreePointArc((465.928888929, -451.786753305), (458.91230099, -458.91230099), (451.786753305, -465.928888929))
            Line((451.786753305, -465.928888929), (462.096442349, -476.238577972))
            Line((462.096442349, -476.238577972), (476.238577972, -462.096442349))
        make_face()
    extrude(amount=-CUT_EXTRUDE9_DEPTH, mode=Mode.SUBTRACT)


solid = part.part
